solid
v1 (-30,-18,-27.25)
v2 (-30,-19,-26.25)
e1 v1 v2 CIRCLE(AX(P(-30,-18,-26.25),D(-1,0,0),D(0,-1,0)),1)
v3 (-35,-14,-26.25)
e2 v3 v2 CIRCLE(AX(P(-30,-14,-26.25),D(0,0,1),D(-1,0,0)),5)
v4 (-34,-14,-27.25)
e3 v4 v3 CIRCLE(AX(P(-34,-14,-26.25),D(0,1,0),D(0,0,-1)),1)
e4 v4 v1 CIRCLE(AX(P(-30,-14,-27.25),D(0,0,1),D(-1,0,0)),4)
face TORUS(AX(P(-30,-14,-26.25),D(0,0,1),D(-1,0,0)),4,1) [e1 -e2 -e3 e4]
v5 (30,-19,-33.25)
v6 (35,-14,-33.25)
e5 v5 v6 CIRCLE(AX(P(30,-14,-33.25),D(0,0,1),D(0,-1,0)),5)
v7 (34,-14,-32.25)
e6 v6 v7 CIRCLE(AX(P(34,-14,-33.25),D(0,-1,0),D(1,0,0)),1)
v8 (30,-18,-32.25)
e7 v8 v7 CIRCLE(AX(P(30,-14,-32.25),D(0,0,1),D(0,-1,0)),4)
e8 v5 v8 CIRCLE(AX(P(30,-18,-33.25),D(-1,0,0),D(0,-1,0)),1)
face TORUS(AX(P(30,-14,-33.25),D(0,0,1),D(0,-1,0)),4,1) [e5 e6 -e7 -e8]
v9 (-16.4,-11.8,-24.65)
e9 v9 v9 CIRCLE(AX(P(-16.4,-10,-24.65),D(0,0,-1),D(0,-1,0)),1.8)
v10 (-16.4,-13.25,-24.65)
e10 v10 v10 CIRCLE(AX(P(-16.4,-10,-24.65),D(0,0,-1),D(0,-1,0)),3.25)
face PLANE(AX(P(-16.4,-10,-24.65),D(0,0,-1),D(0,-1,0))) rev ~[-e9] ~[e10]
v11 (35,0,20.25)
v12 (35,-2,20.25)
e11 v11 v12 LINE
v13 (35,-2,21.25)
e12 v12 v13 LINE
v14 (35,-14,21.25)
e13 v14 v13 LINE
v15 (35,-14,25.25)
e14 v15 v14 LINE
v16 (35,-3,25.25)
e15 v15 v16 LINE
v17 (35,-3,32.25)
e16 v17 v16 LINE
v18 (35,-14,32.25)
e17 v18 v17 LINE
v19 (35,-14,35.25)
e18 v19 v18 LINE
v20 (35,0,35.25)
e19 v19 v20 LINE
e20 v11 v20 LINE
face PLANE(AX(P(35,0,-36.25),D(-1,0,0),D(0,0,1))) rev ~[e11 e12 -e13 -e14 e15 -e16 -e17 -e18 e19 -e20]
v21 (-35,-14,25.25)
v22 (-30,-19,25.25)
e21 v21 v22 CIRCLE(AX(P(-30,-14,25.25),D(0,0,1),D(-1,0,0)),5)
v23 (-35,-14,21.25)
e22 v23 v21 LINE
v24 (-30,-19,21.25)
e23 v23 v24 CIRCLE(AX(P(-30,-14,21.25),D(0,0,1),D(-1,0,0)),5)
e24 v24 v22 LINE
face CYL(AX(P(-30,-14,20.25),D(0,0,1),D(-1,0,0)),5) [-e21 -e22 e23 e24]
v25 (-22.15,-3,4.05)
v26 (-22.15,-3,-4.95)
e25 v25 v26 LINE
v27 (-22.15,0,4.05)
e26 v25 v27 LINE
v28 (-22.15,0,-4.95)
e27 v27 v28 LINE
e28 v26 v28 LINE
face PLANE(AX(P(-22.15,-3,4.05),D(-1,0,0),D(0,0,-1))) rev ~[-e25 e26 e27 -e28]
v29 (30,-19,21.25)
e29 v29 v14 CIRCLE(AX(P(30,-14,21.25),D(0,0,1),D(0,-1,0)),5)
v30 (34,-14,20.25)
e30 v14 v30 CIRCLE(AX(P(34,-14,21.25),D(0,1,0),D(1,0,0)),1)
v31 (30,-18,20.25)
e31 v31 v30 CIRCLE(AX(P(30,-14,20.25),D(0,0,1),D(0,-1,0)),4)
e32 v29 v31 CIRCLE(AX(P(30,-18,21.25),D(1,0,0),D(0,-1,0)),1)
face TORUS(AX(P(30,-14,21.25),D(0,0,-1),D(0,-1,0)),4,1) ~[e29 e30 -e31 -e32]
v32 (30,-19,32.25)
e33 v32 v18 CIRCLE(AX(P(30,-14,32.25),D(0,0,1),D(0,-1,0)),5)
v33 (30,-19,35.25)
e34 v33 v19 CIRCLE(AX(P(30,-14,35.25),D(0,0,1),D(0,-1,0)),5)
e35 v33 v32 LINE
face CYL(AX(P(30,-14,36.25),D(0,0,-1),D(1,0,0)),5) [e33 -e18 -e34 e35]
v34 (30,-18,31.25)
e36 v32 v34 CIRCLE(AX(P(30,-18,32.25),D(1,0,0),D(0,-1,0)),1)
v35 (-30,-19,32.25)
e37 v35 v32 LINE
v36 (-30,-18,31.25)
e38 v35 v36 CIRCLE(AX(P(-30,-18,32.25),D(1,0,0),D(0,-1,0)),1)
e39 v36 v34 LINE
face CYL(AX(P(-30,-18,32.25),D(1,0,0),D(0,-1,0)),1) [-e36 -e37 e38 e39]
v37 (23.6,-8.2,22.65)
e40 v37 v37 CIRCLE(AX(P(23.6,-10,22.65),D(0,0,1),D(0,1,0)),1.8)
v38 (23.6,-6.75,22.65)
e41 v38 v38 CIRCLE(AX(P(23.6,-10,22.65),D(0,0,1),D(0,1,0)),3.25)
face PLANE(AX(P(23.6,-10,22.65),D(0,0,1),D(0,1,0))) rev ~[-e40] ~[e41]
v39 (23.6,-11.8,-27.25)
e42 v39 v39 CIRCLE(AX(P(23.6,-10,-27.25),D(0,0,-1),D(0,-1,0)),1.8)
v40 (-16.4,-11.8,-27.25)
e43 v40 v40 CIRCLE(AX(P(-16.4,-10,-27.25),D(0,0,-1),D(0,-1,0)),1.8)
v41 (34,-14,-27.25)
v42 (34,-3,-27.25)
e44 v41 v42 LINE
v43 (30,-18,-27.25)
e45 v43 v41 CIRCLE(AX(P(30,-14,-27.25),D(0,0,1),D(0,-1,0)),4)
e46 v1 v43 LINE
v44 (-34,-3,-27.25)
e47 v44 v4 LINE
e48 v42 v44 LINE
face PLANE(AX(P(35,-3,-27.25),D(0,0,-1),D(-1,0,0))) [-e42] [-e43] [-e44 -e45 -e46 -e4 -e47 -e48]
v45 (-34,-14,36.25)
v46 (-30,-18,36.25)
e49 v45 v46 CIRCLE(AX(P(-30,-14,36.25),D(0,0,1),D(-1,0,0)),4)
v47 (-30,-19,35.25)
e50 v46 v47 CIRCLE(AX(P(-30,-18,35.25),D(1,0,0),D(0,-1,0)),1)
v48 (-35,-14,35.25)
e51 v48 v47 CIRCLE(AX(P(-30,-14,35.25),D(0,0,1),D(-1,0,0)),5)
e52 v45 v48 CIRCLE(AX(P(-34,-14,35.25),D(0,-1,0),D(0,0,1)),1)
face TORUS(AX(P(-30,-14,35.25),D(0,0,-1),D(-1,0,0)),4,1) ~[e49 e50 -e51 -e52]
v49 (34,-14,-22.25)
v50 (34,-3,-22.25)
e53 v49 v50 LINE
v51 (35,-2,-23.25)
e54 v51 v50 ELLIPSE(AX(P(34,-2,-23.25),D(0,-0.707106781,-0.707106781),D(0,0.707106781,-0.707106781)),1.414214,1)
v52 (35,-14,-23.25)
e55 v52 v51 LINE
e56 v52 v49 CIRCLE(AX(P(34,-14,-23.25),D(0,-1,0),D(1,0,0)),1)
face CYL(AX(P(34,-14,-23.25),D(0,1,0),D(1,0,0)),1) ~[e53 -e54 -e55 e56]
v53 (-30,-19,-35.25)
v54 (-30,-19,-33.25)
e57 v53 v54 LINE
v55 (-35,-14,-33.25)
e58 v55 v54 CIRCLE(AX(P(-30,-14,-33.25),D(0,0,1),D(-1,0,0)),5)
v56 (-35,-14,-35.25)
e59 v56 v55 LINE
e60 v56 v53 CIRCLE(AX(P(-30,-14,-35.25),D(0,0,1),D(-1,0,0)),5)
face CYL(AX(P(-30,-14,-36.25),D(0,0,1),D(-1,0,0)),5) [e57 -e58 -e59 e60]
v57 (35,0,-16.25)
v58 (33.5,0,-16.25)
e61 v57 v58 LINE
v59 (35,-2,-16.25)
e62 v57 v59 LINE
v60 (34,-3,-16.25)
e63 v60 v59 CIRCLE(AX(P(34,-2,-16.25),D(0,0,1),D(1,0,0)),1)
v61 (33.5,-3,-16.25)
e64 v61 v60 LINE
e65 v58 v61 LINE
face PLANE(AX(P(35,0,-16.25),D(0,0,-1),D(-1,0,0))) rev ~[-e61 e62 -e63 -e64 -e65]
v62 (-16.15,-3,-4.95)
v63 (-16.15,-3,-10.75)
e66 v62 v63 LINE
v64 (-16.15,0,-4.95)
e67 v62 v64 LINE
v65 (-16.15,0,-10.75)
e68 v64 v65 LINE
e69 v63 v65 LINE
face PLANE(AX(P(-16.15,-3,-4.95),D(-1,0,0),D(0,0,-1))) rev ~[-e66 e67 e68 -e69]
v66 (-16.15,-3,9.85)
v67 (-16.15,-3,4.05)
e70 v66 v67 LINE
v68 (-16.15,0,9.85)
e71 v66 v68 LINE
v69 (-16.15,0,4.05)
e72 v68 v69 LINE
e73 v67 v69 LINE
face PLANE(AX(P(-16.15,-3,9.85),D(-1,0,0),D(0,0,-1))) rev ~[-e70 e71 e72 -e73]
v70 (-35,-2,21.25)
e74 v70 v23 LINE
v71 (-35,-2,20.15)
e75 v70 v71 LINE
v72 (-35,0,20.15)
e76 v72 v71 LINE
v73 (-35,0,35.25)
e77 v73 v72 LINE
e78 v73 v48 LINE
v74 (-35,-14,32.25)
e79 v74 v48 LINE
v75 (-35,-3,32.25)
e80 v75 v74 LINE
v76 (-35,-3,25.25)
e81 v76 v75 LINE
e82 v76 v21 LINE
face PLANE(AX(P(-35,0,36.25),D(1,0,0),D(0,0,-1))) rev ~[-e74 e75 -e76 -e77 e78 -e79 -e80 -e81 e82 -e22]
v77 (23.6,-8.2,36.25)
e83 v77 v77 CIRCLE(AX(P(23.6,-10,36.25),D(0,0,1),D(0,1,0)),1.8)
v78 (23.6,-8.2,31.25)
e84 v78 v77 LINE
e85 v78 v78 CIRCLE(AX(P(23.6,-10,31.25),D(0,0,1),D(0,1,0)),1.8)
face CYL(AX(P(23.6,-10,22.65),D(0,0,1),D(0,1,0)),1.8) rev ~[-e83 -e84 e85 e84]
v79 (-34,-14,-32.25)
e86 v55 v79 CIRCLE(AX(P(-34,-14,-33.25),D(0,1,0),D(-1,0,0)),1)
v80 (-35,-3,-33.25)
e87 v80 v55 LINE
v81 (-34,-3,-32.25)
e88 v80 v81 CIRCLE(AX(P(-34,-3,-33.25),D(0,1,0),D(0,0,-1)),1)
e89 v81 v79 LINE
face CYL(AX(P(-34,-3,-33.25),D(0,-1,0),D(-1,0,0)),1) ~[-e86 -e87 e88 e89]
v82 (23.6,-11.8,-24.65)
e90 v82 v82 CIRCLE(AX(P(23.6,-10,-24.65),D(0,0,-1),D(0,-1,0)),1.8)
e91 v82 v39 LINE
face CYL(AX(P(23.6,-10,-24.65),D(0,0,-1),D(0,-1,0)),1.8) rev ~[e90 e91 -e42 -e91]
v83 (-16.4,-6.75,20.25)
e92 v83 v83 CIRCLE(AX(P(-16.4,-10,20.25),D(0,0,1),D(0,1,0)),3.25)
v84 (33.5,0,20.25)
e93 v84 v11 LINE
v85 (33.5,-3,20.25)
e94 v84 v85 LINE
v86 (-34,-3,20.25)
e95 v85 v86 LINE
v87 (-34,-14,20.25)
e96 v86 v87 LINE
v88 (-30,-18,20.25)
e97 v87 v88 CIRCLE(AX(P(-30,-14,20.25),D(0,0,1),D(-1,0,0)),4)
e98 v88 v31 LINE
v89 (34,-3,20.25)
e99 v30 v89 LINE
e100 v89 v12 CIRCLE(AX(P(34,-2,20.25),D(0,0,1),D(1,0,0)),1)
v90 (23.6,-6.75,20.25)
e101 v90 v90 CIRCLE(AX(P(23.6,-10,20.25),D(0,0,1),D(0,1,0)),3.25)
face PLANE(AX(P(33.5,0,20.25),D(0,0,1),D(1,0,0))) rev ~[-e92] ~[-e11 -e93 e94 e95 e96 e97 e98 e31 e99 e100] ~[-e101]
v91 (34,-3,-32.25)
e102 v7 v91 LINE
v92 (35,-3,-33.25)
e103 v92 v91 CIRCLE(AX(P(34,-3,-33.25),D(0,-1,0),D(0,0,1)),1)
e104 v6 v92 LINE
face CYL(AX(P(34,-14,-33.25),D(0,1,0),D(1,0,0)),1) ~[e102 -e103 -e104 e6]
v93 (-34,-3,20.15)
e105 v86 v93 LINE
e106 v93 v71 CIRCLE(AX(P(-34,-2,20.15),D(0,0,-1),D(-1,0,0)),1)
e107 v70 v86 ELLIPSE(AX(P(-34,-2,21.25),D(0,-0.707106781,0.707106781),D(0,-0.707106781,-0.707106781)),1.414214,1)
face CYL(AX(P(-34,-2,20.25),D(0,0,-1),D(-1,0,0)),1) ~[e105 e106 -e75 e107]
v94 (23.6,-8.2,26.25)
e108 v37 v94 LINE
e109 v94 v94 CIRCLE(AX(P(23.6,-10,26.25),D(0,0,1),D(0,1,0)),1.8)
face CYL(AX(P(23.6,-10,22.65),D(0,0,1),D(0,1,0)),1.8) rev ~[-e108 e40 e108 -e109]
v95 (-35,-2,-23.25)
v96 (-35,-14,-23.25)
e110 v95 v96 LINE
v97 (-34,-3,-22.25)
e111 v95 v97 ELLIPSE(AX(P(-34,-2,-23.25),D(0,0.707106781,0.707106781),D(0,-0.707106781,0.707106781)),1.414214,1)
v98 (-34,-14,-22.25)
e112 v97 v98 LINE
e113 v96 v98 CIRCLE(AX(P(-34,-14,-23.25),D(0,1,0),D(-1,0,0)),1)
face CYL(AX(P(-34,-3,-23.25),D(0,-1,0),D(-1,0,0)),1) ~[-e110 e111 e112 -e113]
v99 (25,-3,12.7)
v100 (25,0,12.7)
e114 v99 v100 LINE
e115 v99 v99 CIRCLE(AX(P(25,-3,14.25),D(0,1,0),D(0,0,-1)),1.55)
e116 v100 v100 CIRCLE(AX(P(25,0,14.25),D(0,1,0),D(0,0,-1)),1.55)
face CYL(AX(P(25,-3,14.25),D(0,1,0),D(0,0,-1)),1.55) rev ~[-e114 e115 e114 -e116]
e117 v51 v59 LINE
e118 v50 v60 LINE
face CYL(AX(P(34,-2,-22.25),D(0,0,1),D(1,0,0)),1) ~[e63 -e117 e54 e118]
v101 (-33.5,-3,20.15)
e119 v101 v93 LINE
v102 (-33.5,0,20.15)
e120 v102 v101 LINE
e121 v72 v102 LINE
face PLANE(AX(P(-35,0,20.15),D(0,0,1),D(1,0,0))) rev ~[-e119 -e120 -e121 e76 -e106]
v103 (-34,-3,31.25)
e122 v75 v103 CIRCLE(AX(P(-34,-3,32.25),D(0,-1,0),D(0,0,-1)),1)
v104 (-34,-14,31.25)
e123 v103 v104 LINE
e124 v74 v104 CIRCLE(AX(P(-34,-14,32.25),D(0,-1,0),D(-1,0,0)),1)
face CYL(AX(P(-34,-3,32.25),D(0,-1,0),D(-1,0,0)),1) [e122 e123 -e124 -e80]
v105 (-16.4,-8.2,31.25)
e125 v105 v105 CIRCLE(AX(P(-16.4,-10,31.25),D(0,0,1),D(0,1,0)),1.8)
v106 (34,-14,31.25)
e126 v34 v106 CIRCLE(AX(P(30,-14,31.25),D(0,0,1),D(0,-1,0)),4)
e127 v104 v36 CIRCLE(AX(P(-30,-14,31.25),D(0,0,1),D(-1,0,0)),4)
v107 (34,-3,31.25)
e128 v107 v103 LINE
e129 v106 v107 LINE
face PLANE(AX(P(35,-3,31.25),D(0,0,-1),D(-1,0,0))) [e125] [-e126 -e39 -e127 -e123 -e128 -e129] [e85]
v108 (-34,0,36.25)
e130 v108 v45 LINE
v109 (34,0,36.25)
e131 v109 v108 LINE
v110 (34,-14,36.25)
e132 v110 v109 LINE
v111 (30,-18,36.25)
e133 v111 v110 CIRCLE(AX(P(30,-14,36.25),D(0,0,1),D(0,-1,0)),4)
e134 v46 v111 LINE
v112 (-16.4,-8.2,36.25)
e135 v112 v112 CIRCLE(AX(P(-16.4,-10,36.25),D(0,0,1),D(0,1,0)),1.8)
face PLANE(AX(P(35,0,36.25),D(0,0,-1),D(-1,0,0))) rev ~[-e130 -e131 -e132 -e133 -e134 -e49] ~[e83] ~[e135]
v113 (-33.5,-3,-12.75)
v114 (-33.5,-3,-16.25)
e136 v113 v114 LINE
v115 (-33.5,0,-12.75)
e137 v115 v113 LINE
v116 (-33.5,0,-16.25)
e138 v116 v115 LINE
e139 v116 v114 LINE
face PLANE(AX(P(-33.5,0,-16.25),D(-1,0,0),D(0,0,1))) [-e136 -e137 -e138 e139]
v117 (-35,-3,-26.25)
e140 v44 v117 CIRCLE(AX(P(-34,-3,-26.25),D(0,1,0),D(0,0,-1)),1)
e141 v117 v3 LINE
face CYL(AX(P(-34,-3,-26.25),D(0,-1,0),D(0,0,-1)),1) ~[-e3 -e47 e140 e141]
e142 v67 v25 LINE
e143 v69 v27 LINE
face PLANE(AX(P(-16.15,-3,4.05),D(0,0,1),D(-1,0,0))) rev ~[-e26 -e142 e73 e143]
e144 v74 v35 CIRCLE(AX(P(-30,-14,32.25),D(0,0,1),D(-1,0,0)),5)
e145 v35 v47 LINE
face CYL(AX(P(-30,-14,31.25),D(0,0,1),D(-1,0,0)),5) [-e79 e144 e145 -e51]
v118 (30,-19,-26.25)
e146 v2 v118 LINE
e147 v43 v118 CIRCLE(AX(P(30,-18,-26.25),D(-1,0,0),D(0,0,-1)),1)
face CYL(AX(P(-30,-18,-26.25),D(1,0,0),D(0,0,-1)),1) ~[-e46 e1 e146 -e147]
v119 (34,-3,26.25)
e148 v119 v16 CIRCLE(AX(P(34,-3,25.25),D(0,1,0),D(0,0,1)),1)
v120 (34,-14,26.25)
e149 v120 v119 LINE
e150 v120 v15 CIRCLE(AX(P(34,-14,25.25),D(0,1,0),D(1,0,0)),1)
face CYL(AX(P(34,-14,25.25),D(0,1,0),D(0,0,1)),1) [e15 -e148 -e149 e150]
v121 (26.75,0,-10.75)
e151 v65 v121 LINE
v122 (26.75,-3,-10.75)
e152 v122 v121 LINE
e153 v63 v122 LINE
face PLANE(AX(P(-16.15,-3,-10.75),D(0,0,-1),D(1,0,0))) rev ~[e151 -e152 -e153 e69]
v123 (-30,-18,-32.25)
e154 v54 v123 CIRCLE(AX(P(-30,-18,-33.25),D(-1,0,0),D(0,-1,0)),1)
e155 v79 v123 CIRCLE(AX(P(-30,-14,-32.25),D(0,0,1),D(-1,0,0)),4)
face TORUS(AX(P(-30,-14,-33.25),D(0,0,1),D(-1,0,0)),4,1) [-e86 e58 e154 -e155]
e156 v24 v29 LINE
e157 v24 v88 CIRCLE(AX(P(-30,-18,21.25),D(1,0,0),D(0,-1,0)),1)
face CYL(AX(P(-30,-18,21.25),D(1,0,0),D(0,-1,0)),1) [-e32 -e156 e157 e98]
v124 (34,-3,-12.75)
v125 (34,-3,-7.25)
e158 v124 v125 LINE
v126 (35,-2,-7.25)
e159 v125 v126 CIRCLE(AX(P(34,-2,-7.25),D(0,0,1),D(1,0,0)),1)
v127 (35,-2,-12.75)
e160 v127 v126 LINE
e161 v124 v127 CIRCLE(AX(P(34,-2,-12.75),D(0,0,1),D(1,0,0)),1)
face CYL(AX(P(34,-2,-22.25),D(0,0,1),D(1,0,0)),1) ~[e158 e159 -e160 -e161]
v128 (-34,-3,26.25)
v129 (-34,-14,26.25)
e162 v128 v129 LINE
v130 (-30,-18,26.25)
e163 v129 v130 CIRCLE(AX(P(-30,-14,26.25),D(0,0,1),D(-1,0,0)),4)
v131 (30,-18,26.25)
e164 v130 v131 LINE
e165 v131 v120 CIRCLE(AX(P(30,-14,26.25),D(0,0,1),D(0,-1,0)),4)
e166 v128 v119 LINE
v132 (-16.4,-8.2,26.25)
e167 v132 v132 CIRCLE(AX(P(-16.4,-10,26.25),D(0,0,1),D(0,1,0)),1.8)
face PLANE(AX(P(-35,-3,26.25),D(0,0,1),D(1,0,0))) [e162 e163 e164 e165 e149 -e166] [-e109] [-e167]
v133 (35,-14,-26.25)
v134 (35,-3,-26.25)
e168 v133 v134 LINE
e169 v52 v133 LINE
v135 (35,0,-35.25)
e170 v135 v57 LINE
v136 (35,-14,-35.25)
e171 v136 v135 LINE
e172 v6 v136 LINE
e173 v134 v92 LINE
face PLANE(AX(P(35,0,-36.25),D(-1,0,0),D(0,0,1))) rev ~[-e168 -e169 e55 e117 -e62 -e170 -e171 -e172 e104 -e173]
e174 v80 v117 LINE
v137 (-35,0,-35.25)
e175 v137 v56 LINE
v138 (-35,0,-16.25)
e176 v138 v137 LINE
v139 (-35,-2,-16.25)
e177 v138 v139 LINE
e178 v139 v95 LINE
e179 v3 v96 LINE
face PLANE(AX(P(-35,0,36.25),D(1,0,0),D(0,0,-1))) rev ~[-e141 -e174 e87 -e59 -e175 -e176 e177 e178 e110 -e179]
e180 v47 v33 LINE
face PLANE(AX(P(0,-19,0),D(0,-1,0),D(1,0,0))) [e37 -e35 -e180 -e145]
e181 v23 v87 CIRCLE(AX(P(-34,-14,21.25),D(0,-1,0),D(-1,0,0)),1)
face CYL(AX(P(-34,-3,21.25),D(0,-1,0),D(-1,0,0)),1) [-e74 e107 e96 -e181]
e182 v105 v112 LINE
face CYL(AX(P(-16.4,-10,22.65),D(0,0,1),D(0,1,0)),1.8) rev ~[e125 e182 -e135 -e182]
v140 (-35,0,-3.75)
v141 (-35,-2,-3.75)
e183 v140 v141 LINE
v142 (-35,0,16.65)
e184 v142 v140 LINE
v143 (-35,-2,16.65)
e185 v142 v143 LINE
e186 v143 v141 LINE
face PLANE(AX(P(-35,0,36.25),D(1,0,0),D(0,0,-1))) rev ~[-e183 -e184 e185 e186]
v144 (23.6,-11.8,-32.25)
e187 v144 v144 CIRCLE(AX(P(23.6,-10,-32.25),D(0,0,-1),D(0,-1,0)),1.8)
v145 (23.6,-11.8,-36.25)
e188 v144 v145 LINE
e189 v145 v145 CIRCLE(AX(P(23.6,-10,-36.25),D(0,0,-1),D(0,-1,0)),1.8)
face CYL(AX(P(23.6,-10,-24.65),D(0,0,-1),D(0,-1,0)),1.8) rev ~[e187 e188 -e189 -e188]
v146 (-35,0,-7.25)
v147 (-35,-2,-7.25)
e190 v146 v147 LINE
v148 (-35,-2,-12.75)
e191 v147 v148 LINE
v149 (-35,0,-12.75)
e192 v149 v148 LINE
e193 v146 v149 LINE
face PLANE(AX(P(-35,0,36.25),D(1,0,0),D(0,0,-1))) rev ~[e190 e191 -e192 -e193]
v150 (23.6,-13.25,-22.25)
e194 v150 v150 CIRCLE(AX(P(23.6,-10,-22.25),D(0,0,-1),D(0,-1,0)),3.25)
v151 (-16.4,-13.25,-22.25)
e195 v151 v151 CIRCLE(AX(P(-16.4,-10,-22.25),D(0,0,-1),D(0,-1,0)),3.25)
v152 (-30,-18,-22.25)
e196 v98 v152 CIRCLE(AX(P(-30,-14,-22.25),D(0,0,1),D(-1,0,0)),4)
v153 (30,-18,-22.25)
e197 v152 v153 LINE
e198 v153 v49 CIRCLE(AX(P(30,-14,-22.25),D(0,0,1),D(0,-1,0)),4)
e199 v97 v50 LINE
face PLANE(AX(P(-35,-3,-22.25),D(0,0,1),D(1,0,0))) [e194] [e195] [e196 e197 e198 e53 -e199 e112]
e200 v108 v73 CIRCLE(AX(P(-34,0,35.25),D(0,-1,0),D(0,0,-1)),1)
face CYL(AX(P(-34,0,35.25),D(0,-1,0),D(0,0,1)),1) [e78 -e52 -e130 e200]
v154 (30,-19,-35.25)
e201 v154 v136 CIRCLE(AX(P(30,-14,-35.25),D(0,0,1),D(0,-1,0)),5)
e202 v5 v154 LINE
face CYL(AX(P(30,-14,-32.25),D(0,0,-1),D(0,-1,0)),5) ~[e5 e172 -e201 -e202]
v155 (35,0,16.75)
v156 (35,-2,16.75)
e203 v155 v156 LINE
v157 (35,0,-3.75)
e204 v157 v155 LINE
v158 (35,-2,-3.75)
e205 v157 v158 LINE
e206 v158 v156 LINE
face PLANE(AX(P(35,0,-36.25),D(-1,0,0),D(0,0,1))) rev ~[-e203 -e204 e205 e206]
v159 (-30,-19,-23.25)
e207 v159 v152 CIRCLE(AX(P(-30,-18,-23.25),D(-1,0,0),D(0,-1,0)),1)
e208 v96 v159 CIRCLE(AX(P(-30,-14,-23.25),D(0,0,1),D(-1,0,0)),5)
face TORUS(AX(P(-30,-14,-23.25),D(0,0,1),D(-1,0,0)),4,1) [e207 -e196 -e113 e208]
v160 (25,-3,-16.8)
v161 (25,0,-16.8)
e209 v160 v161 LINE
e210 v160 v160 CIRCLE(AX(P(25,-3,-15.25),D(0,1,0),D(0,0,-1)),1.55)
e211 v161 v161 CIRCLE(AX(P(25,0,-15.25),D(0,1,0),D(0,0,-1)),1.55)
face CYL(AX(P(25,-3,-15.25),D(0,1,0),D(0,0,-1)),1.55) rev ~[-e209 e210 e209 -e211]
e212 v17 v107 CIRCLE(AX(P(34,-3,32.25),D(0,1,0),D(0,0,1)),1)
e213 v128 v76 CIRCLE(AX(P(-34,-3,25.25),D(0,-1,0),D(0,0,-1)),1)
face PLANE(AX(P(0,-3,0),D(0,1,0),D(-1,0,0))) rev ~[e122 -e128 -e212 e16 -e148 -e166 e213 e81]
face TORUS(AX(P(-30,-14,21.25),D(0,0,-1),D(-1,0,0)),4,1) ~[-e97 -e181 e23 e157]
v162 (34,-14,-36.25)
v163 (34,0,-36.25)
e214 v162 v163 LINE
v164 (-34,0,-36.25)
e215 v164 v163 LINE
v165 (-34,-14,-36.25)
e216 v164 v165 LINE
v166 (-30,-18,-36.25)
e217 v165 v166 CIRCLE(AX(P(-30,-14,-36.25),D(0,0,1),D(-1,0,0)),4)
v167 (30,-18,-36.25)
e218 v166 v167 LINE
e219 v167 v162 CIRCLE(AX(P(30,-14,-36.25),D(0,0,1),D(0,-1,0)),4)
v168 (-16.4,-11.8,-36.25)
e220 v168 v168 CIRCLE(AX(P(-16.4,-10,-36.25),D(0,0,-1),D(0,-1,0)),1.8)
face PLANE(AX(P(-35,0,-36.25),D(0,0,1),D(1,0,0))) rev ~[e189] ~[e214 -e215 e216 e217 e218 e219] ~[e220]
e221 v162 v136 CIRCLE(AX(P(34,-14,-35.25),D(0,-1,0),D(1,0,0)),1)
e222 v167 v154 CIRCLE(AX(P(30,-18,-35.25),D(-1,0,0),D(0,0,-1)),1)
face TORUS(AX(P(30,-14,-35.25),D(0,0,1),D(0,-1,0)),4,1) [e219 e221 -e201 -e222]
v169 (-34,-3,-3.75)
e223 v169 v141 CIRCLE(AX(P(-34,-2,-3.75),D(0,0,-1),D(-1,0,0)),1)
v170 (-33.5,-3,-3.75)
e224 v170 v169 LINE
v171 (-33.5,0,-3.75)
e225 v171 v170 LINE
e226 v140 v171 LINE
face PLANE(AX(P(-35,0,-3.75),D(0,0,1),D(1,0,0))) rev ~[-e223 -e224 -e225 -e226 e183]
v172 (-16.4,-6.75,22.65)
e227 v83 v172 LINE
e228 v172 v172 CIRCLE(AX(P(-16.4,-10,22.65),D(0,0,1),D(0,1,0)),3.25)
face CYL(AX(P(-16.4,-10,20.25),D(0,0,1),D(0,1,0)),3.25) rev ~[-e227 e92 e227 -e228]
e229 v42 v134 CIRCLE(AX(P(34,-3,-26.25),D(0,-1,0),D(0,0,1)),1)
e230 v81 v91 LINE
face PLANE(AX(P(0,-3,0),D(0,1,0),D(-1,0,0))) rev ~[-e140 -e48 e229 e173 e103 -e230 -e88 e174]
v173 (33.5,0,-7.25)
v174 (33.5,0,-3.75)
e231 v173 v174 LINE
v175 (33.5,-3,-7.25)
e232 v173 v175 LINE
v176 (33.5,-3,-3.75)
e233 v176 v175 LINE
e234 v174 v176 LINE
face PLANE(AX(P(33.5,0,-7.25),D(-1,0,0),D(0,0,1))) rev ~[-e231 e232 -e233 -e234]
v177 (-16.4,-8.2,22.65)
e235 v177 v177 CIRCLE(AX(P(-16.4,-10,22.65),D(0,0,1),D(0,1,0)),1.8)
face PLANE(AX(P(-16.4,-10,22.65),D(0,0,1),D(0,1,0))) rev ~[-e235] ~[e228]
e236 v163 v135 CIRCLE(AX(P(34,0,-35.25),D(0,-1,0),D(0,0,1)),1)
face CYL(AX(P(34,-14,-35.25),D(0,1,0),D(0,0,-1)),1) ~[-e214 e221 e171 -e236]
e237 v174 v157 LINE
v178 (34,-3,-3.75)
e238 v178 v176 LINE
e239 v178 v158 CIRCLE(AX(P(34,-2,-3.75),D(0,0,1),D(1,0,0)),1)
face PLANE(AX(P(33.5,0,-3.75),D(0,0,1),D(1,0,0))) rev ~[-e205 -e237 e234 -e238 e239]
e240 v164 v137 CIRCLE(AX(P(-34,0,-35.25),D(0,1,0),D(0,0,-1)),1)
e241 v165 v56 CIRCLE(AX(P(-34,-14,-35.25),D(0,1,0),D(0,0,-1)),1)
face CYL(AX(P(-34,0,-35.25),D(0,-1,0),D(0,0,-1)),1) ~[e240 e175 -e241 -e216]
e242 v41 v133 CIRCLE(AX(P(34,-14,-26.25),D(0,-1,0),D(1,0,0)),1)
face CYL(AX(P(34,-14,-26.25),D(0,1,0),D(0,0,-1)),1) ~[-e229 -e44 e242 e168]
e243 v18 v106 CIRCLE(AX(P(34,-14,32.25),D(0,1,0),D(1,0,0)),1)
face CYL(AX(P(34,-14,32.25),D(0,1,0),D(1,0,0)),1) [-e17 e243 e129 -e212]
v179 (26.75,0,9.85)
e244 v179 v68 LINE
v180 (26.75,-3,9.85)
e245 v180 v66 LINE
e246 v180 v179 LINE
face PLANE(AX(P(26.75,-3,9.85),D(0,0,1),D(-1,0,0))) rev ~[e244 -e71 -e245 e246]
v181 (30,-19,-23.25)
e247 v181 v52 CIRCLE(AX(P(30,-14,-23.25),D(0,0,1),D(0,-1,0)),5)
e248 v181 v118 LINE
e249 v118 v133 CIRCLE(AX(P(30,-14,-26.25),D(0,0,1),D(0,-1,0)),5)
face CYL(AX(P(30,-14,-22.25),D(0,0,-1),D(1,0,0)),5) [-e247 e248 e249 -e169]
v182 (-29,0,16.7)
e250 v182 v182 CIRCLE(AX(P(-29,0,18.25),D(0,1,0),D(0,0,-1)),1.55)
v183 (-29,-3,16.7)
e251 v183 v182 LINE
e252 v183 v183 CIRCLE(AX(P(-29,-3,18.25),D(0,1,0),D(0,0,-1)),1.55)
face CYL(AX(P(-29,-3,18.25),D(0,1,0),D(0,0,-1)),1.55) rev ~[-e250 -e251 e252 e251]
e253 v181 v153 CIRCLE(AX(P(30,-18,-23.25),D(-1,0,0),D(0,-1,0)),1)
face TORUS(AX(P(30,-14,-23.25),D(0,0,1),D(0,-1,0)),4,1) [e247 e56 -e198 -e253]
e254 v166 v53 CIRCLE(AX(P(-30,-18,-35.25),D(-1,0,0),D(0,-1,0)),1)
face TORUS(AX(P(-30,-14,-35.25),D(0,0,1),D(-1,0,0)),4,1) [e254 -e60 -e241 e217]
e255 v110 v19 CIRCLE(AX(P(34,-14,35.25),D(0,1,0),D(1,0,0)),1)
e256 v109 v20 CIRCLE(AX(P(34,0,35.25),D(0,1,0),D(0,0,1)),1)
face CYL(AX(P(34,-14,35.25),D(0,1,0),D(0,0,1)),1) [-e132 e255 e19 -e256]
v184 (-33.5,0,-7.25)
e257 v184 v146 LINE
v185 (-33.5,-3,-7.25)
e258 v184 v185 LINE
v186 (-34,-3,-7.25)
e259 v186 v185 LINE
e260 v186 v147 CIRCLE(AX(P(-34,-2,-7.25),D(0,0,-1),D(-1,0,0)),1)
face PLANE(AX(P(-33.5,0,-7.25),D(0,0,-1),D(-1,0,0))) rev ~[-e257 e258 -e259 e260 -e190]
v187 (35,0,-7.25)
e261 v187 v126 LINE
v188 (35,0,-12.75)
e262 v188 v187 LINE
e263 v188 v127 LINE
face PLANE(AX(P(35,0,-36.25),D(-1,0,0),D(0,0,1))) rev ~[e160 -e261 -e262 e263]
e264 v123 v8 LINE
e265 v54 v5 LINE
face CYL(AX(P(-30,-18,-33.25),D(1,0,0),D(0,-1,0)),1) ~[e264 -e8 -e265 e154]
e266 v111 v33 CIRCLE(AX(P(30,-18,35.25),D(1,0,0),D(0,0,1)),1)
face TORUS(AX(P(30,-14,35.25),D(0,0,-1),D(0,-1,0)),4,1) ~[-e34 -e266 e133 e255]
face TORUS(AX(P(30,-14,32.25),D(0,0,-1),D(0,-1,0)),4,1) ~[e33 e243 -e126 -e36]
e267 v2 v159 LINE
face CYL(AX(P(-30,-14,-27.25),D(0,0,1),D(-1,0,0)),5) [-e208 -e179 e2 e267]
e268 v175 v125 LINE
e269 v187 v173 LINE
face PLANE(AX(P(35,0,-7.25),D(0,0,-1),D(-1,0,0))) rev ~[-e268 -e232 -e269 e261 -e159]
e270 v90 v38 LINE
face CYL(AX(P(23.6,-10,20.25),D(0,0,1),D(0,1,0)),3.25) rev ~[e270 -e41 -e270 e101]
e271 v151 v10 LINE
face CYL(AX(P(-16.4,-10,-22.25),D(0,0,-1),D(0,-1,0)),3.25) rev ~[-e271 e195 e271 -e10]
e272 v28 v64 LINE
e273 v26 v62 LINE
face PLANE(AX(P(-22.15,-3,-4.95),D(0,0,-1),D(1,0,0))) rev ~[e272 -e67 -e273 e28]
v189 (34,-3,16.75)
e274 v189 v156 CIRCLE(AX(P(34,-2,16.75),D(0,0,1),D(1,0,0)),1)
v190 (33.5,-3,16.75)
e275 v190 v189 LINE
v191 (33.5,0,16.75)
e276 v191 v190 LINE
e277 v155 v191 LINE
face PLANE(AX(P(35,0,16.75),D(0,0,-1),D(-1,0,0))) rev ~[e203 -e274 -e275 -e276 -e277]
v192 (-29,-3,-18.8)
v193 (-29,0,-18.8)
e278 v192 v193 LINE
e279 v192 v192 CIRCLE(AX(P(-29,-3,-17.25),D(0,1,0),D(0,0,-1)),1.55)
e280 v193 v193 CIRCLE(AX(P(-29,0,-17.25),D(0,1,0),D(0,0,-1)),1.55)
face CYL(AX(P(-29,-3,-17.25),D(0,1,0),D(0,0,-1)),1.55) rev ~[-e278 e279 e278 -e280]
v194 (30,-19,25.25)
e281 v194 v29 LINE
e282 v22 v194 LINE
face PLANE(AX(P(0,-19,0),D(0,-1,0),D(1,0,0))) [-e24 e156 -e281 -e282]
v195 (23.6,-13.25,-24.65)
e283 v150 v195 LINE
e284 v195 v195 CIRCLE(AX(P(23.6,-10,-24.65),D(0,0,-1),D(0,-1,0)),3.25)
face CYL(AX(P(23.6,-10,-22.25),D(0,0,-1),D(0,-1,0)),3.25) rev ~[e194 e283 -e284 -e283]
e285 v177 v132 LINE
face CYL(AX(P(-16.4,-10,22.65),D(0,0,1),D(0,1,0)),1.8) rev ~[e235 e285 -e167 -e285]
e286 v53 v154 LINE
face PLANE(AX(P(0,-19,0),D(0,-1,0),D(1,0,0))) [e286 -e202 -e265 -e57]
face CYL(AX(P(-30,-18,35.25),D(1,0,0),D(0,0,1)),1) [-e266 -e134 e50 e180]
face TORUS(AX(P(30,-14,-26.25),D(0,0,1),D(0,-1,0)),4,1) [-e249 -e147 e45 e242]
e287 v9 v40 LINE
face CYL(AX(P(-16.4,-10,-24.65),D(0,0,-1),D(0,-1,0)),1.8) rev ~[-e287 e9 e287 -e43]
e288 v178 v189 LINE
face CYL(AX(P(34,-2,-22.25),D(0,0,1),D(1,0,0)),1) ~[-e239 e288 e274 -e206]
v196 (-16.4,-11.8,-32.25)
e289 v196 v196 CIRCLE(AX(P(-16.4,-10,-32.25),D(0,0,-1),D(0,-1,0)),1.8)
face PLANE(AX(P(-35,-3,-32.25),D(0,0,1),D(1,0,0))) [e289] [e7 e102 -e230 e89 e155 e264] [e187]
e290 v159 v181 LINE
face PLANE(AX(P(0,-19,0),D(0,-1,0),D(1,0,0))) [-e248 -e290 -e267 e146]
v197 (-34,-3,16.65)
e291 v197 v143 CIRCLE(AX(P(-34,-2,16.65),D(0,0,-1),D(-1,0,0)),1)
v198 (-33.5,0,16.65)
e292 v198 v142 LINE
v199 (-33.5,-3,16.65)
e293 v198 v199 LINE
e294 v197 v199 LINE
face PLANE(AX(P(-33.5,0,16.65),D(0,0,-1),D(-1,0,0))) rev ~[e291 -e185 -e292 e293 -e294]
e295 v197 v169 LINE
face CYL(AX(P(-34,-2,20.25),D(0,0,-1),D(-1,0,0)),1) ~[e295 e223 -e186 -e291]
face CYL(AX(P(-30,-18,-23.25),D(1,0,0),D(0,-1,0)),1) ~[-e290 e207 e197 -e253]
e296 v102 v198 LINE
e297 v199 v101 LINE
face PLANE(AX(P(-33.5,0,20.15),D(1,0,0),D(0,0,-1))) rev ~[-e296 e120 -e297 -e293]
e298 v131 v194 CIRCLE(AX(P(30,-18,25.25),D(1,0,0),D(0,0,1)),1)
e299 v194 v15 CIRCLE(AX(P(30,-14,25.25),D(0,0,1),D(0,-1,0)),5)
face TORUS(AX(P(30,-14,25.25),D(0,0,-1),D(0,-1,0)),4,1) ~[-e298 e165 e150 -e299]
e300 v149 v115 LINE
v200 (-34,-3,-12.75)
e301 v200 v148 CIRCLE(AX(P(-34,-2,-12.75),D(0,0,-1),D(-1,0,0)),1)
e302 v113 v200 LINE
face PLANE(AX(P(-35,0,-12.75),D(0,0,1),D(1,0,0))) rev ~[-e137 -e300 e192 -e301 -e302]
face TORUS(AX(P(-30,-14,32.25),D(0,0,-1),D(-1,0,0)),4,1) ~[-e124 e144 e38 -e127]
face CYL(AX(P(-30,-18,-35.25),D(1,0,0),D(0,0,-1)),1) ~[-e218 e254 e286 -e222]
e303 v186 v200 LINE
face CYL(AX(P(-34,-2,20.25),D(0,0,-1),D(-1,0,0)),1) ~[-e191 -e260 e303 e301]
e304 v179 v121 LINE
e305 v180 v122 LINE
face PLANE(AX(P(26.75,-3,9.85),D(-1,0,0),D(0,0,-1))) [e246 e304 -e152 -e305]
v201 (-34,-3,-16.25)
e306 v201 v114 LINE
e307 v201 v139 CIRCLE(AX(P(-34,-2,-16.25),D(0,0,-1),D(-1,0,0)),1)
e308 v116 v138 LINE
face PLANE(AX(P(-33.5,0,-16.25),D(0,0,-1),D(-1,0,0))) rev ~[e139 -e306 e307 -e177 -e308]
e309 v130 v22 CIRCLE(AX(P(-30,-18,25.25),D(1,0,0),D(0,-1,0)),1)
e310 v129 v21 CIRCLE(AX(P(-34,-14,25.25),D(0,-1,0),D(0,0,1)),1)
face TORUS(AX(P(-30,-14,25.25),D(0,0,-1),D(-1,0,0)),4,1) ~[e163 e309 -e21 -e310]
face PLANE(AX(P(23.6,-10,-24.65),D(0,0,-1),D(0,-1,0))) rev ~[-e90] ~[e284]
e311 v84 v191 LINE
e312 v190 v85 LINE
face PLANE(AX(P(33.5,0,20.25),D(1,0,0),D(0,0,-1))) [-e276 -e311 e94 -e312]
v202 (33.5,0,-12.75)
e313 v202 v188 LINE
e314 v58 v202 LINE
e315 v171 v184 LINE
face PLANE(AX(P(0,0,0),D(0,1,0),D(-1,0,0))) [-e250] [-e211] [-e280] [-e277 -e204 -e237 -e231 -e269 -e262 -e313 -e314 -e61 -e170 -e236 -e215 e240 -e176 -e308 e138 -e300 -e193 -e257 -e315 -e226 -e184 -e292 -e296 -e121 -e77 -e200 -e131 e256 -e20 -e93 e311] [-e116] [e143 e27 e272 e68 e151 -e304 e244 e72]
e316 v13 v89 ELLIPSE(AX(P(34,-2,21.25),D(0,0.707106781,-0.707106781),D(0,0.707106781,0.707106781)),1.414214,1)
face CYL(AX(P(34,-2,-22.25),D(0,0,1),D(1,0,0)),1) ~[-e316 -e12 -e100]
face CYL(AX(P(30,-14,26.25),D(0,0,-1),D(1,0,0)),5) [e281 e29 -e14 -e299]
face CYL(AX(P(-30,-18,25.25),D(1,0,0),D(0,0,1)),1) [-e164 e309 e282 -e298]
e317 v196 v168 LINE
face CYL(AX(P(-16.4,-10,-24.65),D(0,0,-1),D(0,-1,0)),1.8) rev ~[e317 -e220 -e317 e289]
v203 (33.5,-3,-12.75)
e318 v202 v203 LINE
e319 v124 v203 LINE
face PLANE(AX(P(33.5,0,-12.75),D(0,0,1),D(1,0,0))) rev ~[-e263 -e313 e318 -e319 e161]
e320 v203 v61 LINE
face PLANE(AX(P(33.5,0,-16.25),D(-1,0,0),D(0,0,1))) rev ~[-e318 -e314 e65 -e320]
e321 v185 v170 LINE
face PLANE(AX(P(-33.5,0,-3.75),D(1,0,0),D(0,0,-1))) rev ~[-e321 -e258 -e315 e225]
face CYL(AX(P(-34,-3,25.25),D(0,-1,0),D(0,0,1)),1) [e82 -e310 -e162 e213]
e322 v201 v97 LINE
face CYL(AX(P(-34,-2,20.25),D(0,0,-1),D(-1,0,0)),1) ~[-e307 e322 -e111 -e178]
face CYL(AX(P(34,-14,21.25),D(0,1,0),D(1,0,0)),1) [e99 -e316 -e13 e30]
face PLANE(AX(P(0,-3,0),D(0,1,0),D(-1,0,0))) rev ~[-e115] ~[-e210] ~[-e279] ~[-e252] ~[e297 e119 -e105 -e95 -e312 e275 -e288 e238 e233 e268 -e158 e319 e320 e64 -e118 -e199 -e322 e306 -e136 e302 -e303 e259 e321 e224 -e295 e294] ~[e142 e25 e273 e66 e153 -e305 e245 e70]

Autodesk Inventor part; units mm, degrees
ref_plane "YZ Plane" through (0, 0, 0) normal (1, 0, 0) x (0, 1, 0)
ref_plane "XZ Plane" through (0, 0, 0) normal (0, 1, 0) x (-1, 0, 0)
sketch "Boceto1" plane through (0, 0, 0) normal (0, 1, 0) x (-1, 0, 0)
  line L0 (35, -36.25) -> (-35, -36.25)
  line L1 (-35, -36.25) -> (-35, 36.25)
  line L2 (-35, 36.25) -> (35, 36.25)
  line L3 (35, 36.25) -> (35, -36.25)
  line L4 (35, -36.25) -> (-35, 36.25) construction
  line L5 (-35, -36.25) -> (35, 36.25) construction
  point P0 (0, 0)
  dimension "d0" = 70
  dimension "d1" = 72.5
extrude "Extrusión1" add sketch "Boceto1" against normal blind 3
sketch "Boceto2" plane through (0, -3, 0) normal (0, -1, 0) x (1, 0, 0)
  line L0 (-35, 36.25) -> (35, 36.25)
  line L1 (35, 36.25) -> (35, 31.25)
  line L2 (35, 31.25) -> (-35, 31.25)
  line L3 (-35, 31.25) -> (-35, 36.25)
  line L4 (-35, 26.25) -> (35, 26.25)
  line L5 (35, 26.25) -> (35, 20.25)
  line L6 (35, 20.25) -> (-35, 20.25)
  line L7 (-35, 20.25) -> (-35, 26.25)
  line L8 (-35, -32.25) -> (35, -32.25)
  line L9 (35, -32.25) -> (35, -36.25)
  line L10 (35, -36.25) -> (-35, -36.25)
  line L11 (-35, -36.25) -> (-35, -32.25)
  line L12 (-35, -22.25) -> (35, -22.25)
  line L13 (35, -22.25) -> (35, -27.25)
  line L14 (35, -27.25) -> (-35, -27.25)
  line L15 (-35, -27.25) -> (-35, -22.25)
  line L16 (-35, 36.25) -> (-35, -36.25) projected
  line L17 (35, 36.25) -> (-35, 36.25) projected
  line L18 (35, -36.25) -> (35, 36.25) projected
  line L19 (-35, -36.25) -> (35, -36.25) projected
  point P0 (0, 0)
  dimension "d4" = 5
  dimension "d5" = 5
  dimension "d6" = 6
  dimension "d7" = 4
  dimension "d8" = 5
  dimension "d9" = 5
extrude "Extrusión2" add sketch "Boceto2" along normal blind 16 contours L0 L1 L2 L3 | L4 L5 L6 L7 | L12 L13 L14 L15 | L8 L9 L10 L11
sketch "Boceto3" plane through (-35, 0, 36.25) normal (0, 0, 1) x (1, 0, 0)
  line L0 (70, 0) -> (0, 0) projected
  line L1 (70, 0) -> (70, -19) projected
  point P0 (35, 0)
  point P1 (18.6, -10)
  point P2 (58.6, -10)
  dimension "d12" = 10
  dimension "d13" = 40
  dimension "d14" = 10
  dimension "d15" = 11.4
sketch "Boceto4" plane through (35, -3, 20.25) normal (0, 0, -1) x (-1, 0, 0)
  point P0 (35, 3)
  point P1 (11.4, -7)
  point P2 (11.4, -7)
  point P3 (51.4, -7)
hole "Agujero1" at (-16.4, -10, 20.25) at (23.6, -10, 20.25) direction (0, 0, 1) diameter 3.6 end through all counterbore diameter 6.5 counterbore depth 2.4 clearance for "Vite intagliata a testa cilindrica ISO 1207" size "M3" standard "ISO"
sketch "Boceto5" plane through (-35, -3, -22.25) normal (0, 0, 1) x (1, 0, 0)
  point P0 (35, 3)
  point P1 (18.6, -7)
  point P2 (58.6, -7)
hole "Agujero2" at (-16.4, -10, -22.25) at (23.6, -10, -22.25) direction (0, 0, -1) diameter 3.6 end through all counterbore diameter 6.5 counterbore depth 2.4 clearance for "Vite intagliata a testa cilindrica ISO 1207" size "M3" standard "ISO"
fillet "Empalme1" radius 5 8 edges at (-35, -19, 33.75) (-35, -19, 23.25) (35, -19, 33.75) (35, -19, 23.25) (35, -19, -24.75) (35, -19, -34.25) (-35, -19, -24.75) (-35, -19, -34.25)
fillet "Empalme2" radius 1 42 edges at (-33.5355, -17.5355, -36.25) (0, -19, -36.25) (33.5355, -17.5355, -36.25) (35, -7, -36.25) (-35, -7, -36.25) (-33.5355, -17.5355, -32.25) (0, -19, -32.25) (33.5355, -17.5355, -32.25) (35, -8.5, -32.25) (-35, -8.5, -32.25) (-33.5355, -17.5355, -27.25) (0, -19, -27.25) (33.5355, -17.5355, -27.25) (35, -8.5, -27.25) (-35, -8.5, -27.25) (-33.5355, -17.5355, -22.25) (0, -19, -22.25) (33.5355, -17.5355, -22.25) (35, -8.5, -22.25) (-35, -8.5, -22.25) (-33.5355, -17.5355, 20.25) (0, -19, 20.25) (33.5355, -17.5355, 20.25) (35, -8.5, 20.25) (-35, -8.5, 20.25) (-33.5355, -17.5355, 26.25) (0, -19, 26.25) (33.5355, -17.5355, 26.25) (35, -8.5, 26.25) (-35, -8.5, 26.25) (-33.5355, -17.5355, 31.25) (0, -19, 31.25) (33.5355, -17.5355, 31.25) (35, -8.5, 31.25) (-35, -8.5, 31.25) (-33.5355, -17.5355, 36.25) (0, -19, 36.25) (33.5355, -17.5355, 36.25) (35, -7, 36.25) (-35, -7, 36.25) (-35, -3, -1) (35, -3, -1)
sketch "Boceto6" plane through (0, 0, 0) normal (0, 1, 0) x (1, 0, 0)
  line L0 (-33.5, 16.25) -> (-33.5, 12.75) projected
  line L1 (-33.5, 16.25) -> (-35, 16.25) projected
  line L2 (-35, 12.75) -> (-33.5, 12.75) projected
  line L3 (-33.5, 7.25) -> (-35, 7.25) projected
  line L4 (-33.5, 3.75) -> (-33.5, 7.25) projected
  line L5 (-35, 3.75) -> (-33.5, 3.75) projected
  line L6 (33.5, 3.75) -> (35, 3.75) projected
  line L7 (33.5, 7.25) -> (33.5, 3.75) projected
  line L8 (35, 7.25) -> (33.5, 7.25) projected
  line L9 (33.5, 12.75) -> (35, 12.75) projected
  line L10 (33.5, 16.25) -> (33.5, 12.75) projected
  line L11 (35, 16.25) -> (33.5, 16.25) projected
  line L12 (-35, -35.25) -> (-35, 35.25) projected
  line L13 (35, 35.25) -> (35, -35.25) projected
  line L14 (-33.5, -16.65) -> (-35, -16.65) projected
  line L15 (-33.5, -20.15) -> (-33.5, -16.65) projected
  line L16 (-35, -20.15) -> (-33.5, -20.15) projected
  line L17 (33.5, -20.25) -> (33.5, -16.75) projected
  line L18 (35, -16.75) -> (33.5, -16.75) projected
  line L19 (33.5, -20.25) -> (35, -20.25) projected
  point P0 (0, 0)
extrude "Extrusión3" cut sketch "Boceto6" against normal up to next
sketch "Boceto8" plane through (0, -3, 0) normal (0, -1, 0) x (1, 0, 0)
  line L0 (25.75, 9.35) -> (25.75, -10.25) projected
  line L1 (25.75, 9.35) -> (-15.15, 9.35) projected
  line L2 (-15.15, 9.35) -> (-15.15, 3.05) projected
  line L3 (-15.15, 3.05) -> (-21.15, 3.05) projected
  line L4 (-21.15, -3.95) -> (-21.15, 3.05) projected
  line L5 (-15.15, -3.95) -> (-21.15, -3.95) projected
  line L6 (-15.15, -3.95) -> (-15.15, -10.25) projected
  line L7 (25.75, -10.25) -> (-15.15, -10.25) projected
  line L8 (25.75, 9.35) -> (25.75, -10.25) projected
  line L9 (26.75, 9.85) -> (-16.15, 9.85)
  line L10 (-16.15, 9.85) -> (-16.15, 4.05)
  line L11 (-16.15, 4.05) -> (-22.15, 4.05)
  line L12 (-22.15, 4.05) -> (-22.15, -4.95)
  line L13 (-22.15, -4.95) -> (-16.15, -4.95)
  line L14 (-16.15, -4.95) -> (-16.15, -10.75)
  line L15 (-16.15, -10.75) -> (26.75, -10.75)
  line L16 (26.75, 9.85) -> (26.75, -10.75)
  point P0 (0, 0)
  dimension "d34" = 0.5
  dimension "d36" = 1
  dimension "d37" = 0.5
  dimension "d38" = 1
ref_plane "Plano de trabajo1" through (-35, 0, -36.25) normal (0, -1, 0) x (1, 0, 0)
extrude "Extrusión4" cut sketch "Boceto8" against normal up to surface (3 mm away) contours L0 L7 L6 L5 L4 L3 L2 L1 | L16 L15 L14 L13 L12 L11 L10 L9
sketch "Boceto10" plane through (0, -3, 0) normal (0, -1, 0) x (1, 0, 0)
  arc A0 (26.1843, -16.25) -> (23.8157, -16.25) centre (25, -15.25) ccw
  circle A1 centre (25, 14.25) radius 1.55
  circle A2 centre (-29, 18.25) radius 1.55
  circle A3 centre (-29, -17.25) radius 1.55
  point P0 (0, 0)
hole "Agujero3" at (25, -3, 14.25) at (25, -3, -15.25) at (-29, -3, -17.25) at (-29, -3, 18.25) direction (0, 1, 0) diameter 3.1 end through all
properties part number "transversal"
